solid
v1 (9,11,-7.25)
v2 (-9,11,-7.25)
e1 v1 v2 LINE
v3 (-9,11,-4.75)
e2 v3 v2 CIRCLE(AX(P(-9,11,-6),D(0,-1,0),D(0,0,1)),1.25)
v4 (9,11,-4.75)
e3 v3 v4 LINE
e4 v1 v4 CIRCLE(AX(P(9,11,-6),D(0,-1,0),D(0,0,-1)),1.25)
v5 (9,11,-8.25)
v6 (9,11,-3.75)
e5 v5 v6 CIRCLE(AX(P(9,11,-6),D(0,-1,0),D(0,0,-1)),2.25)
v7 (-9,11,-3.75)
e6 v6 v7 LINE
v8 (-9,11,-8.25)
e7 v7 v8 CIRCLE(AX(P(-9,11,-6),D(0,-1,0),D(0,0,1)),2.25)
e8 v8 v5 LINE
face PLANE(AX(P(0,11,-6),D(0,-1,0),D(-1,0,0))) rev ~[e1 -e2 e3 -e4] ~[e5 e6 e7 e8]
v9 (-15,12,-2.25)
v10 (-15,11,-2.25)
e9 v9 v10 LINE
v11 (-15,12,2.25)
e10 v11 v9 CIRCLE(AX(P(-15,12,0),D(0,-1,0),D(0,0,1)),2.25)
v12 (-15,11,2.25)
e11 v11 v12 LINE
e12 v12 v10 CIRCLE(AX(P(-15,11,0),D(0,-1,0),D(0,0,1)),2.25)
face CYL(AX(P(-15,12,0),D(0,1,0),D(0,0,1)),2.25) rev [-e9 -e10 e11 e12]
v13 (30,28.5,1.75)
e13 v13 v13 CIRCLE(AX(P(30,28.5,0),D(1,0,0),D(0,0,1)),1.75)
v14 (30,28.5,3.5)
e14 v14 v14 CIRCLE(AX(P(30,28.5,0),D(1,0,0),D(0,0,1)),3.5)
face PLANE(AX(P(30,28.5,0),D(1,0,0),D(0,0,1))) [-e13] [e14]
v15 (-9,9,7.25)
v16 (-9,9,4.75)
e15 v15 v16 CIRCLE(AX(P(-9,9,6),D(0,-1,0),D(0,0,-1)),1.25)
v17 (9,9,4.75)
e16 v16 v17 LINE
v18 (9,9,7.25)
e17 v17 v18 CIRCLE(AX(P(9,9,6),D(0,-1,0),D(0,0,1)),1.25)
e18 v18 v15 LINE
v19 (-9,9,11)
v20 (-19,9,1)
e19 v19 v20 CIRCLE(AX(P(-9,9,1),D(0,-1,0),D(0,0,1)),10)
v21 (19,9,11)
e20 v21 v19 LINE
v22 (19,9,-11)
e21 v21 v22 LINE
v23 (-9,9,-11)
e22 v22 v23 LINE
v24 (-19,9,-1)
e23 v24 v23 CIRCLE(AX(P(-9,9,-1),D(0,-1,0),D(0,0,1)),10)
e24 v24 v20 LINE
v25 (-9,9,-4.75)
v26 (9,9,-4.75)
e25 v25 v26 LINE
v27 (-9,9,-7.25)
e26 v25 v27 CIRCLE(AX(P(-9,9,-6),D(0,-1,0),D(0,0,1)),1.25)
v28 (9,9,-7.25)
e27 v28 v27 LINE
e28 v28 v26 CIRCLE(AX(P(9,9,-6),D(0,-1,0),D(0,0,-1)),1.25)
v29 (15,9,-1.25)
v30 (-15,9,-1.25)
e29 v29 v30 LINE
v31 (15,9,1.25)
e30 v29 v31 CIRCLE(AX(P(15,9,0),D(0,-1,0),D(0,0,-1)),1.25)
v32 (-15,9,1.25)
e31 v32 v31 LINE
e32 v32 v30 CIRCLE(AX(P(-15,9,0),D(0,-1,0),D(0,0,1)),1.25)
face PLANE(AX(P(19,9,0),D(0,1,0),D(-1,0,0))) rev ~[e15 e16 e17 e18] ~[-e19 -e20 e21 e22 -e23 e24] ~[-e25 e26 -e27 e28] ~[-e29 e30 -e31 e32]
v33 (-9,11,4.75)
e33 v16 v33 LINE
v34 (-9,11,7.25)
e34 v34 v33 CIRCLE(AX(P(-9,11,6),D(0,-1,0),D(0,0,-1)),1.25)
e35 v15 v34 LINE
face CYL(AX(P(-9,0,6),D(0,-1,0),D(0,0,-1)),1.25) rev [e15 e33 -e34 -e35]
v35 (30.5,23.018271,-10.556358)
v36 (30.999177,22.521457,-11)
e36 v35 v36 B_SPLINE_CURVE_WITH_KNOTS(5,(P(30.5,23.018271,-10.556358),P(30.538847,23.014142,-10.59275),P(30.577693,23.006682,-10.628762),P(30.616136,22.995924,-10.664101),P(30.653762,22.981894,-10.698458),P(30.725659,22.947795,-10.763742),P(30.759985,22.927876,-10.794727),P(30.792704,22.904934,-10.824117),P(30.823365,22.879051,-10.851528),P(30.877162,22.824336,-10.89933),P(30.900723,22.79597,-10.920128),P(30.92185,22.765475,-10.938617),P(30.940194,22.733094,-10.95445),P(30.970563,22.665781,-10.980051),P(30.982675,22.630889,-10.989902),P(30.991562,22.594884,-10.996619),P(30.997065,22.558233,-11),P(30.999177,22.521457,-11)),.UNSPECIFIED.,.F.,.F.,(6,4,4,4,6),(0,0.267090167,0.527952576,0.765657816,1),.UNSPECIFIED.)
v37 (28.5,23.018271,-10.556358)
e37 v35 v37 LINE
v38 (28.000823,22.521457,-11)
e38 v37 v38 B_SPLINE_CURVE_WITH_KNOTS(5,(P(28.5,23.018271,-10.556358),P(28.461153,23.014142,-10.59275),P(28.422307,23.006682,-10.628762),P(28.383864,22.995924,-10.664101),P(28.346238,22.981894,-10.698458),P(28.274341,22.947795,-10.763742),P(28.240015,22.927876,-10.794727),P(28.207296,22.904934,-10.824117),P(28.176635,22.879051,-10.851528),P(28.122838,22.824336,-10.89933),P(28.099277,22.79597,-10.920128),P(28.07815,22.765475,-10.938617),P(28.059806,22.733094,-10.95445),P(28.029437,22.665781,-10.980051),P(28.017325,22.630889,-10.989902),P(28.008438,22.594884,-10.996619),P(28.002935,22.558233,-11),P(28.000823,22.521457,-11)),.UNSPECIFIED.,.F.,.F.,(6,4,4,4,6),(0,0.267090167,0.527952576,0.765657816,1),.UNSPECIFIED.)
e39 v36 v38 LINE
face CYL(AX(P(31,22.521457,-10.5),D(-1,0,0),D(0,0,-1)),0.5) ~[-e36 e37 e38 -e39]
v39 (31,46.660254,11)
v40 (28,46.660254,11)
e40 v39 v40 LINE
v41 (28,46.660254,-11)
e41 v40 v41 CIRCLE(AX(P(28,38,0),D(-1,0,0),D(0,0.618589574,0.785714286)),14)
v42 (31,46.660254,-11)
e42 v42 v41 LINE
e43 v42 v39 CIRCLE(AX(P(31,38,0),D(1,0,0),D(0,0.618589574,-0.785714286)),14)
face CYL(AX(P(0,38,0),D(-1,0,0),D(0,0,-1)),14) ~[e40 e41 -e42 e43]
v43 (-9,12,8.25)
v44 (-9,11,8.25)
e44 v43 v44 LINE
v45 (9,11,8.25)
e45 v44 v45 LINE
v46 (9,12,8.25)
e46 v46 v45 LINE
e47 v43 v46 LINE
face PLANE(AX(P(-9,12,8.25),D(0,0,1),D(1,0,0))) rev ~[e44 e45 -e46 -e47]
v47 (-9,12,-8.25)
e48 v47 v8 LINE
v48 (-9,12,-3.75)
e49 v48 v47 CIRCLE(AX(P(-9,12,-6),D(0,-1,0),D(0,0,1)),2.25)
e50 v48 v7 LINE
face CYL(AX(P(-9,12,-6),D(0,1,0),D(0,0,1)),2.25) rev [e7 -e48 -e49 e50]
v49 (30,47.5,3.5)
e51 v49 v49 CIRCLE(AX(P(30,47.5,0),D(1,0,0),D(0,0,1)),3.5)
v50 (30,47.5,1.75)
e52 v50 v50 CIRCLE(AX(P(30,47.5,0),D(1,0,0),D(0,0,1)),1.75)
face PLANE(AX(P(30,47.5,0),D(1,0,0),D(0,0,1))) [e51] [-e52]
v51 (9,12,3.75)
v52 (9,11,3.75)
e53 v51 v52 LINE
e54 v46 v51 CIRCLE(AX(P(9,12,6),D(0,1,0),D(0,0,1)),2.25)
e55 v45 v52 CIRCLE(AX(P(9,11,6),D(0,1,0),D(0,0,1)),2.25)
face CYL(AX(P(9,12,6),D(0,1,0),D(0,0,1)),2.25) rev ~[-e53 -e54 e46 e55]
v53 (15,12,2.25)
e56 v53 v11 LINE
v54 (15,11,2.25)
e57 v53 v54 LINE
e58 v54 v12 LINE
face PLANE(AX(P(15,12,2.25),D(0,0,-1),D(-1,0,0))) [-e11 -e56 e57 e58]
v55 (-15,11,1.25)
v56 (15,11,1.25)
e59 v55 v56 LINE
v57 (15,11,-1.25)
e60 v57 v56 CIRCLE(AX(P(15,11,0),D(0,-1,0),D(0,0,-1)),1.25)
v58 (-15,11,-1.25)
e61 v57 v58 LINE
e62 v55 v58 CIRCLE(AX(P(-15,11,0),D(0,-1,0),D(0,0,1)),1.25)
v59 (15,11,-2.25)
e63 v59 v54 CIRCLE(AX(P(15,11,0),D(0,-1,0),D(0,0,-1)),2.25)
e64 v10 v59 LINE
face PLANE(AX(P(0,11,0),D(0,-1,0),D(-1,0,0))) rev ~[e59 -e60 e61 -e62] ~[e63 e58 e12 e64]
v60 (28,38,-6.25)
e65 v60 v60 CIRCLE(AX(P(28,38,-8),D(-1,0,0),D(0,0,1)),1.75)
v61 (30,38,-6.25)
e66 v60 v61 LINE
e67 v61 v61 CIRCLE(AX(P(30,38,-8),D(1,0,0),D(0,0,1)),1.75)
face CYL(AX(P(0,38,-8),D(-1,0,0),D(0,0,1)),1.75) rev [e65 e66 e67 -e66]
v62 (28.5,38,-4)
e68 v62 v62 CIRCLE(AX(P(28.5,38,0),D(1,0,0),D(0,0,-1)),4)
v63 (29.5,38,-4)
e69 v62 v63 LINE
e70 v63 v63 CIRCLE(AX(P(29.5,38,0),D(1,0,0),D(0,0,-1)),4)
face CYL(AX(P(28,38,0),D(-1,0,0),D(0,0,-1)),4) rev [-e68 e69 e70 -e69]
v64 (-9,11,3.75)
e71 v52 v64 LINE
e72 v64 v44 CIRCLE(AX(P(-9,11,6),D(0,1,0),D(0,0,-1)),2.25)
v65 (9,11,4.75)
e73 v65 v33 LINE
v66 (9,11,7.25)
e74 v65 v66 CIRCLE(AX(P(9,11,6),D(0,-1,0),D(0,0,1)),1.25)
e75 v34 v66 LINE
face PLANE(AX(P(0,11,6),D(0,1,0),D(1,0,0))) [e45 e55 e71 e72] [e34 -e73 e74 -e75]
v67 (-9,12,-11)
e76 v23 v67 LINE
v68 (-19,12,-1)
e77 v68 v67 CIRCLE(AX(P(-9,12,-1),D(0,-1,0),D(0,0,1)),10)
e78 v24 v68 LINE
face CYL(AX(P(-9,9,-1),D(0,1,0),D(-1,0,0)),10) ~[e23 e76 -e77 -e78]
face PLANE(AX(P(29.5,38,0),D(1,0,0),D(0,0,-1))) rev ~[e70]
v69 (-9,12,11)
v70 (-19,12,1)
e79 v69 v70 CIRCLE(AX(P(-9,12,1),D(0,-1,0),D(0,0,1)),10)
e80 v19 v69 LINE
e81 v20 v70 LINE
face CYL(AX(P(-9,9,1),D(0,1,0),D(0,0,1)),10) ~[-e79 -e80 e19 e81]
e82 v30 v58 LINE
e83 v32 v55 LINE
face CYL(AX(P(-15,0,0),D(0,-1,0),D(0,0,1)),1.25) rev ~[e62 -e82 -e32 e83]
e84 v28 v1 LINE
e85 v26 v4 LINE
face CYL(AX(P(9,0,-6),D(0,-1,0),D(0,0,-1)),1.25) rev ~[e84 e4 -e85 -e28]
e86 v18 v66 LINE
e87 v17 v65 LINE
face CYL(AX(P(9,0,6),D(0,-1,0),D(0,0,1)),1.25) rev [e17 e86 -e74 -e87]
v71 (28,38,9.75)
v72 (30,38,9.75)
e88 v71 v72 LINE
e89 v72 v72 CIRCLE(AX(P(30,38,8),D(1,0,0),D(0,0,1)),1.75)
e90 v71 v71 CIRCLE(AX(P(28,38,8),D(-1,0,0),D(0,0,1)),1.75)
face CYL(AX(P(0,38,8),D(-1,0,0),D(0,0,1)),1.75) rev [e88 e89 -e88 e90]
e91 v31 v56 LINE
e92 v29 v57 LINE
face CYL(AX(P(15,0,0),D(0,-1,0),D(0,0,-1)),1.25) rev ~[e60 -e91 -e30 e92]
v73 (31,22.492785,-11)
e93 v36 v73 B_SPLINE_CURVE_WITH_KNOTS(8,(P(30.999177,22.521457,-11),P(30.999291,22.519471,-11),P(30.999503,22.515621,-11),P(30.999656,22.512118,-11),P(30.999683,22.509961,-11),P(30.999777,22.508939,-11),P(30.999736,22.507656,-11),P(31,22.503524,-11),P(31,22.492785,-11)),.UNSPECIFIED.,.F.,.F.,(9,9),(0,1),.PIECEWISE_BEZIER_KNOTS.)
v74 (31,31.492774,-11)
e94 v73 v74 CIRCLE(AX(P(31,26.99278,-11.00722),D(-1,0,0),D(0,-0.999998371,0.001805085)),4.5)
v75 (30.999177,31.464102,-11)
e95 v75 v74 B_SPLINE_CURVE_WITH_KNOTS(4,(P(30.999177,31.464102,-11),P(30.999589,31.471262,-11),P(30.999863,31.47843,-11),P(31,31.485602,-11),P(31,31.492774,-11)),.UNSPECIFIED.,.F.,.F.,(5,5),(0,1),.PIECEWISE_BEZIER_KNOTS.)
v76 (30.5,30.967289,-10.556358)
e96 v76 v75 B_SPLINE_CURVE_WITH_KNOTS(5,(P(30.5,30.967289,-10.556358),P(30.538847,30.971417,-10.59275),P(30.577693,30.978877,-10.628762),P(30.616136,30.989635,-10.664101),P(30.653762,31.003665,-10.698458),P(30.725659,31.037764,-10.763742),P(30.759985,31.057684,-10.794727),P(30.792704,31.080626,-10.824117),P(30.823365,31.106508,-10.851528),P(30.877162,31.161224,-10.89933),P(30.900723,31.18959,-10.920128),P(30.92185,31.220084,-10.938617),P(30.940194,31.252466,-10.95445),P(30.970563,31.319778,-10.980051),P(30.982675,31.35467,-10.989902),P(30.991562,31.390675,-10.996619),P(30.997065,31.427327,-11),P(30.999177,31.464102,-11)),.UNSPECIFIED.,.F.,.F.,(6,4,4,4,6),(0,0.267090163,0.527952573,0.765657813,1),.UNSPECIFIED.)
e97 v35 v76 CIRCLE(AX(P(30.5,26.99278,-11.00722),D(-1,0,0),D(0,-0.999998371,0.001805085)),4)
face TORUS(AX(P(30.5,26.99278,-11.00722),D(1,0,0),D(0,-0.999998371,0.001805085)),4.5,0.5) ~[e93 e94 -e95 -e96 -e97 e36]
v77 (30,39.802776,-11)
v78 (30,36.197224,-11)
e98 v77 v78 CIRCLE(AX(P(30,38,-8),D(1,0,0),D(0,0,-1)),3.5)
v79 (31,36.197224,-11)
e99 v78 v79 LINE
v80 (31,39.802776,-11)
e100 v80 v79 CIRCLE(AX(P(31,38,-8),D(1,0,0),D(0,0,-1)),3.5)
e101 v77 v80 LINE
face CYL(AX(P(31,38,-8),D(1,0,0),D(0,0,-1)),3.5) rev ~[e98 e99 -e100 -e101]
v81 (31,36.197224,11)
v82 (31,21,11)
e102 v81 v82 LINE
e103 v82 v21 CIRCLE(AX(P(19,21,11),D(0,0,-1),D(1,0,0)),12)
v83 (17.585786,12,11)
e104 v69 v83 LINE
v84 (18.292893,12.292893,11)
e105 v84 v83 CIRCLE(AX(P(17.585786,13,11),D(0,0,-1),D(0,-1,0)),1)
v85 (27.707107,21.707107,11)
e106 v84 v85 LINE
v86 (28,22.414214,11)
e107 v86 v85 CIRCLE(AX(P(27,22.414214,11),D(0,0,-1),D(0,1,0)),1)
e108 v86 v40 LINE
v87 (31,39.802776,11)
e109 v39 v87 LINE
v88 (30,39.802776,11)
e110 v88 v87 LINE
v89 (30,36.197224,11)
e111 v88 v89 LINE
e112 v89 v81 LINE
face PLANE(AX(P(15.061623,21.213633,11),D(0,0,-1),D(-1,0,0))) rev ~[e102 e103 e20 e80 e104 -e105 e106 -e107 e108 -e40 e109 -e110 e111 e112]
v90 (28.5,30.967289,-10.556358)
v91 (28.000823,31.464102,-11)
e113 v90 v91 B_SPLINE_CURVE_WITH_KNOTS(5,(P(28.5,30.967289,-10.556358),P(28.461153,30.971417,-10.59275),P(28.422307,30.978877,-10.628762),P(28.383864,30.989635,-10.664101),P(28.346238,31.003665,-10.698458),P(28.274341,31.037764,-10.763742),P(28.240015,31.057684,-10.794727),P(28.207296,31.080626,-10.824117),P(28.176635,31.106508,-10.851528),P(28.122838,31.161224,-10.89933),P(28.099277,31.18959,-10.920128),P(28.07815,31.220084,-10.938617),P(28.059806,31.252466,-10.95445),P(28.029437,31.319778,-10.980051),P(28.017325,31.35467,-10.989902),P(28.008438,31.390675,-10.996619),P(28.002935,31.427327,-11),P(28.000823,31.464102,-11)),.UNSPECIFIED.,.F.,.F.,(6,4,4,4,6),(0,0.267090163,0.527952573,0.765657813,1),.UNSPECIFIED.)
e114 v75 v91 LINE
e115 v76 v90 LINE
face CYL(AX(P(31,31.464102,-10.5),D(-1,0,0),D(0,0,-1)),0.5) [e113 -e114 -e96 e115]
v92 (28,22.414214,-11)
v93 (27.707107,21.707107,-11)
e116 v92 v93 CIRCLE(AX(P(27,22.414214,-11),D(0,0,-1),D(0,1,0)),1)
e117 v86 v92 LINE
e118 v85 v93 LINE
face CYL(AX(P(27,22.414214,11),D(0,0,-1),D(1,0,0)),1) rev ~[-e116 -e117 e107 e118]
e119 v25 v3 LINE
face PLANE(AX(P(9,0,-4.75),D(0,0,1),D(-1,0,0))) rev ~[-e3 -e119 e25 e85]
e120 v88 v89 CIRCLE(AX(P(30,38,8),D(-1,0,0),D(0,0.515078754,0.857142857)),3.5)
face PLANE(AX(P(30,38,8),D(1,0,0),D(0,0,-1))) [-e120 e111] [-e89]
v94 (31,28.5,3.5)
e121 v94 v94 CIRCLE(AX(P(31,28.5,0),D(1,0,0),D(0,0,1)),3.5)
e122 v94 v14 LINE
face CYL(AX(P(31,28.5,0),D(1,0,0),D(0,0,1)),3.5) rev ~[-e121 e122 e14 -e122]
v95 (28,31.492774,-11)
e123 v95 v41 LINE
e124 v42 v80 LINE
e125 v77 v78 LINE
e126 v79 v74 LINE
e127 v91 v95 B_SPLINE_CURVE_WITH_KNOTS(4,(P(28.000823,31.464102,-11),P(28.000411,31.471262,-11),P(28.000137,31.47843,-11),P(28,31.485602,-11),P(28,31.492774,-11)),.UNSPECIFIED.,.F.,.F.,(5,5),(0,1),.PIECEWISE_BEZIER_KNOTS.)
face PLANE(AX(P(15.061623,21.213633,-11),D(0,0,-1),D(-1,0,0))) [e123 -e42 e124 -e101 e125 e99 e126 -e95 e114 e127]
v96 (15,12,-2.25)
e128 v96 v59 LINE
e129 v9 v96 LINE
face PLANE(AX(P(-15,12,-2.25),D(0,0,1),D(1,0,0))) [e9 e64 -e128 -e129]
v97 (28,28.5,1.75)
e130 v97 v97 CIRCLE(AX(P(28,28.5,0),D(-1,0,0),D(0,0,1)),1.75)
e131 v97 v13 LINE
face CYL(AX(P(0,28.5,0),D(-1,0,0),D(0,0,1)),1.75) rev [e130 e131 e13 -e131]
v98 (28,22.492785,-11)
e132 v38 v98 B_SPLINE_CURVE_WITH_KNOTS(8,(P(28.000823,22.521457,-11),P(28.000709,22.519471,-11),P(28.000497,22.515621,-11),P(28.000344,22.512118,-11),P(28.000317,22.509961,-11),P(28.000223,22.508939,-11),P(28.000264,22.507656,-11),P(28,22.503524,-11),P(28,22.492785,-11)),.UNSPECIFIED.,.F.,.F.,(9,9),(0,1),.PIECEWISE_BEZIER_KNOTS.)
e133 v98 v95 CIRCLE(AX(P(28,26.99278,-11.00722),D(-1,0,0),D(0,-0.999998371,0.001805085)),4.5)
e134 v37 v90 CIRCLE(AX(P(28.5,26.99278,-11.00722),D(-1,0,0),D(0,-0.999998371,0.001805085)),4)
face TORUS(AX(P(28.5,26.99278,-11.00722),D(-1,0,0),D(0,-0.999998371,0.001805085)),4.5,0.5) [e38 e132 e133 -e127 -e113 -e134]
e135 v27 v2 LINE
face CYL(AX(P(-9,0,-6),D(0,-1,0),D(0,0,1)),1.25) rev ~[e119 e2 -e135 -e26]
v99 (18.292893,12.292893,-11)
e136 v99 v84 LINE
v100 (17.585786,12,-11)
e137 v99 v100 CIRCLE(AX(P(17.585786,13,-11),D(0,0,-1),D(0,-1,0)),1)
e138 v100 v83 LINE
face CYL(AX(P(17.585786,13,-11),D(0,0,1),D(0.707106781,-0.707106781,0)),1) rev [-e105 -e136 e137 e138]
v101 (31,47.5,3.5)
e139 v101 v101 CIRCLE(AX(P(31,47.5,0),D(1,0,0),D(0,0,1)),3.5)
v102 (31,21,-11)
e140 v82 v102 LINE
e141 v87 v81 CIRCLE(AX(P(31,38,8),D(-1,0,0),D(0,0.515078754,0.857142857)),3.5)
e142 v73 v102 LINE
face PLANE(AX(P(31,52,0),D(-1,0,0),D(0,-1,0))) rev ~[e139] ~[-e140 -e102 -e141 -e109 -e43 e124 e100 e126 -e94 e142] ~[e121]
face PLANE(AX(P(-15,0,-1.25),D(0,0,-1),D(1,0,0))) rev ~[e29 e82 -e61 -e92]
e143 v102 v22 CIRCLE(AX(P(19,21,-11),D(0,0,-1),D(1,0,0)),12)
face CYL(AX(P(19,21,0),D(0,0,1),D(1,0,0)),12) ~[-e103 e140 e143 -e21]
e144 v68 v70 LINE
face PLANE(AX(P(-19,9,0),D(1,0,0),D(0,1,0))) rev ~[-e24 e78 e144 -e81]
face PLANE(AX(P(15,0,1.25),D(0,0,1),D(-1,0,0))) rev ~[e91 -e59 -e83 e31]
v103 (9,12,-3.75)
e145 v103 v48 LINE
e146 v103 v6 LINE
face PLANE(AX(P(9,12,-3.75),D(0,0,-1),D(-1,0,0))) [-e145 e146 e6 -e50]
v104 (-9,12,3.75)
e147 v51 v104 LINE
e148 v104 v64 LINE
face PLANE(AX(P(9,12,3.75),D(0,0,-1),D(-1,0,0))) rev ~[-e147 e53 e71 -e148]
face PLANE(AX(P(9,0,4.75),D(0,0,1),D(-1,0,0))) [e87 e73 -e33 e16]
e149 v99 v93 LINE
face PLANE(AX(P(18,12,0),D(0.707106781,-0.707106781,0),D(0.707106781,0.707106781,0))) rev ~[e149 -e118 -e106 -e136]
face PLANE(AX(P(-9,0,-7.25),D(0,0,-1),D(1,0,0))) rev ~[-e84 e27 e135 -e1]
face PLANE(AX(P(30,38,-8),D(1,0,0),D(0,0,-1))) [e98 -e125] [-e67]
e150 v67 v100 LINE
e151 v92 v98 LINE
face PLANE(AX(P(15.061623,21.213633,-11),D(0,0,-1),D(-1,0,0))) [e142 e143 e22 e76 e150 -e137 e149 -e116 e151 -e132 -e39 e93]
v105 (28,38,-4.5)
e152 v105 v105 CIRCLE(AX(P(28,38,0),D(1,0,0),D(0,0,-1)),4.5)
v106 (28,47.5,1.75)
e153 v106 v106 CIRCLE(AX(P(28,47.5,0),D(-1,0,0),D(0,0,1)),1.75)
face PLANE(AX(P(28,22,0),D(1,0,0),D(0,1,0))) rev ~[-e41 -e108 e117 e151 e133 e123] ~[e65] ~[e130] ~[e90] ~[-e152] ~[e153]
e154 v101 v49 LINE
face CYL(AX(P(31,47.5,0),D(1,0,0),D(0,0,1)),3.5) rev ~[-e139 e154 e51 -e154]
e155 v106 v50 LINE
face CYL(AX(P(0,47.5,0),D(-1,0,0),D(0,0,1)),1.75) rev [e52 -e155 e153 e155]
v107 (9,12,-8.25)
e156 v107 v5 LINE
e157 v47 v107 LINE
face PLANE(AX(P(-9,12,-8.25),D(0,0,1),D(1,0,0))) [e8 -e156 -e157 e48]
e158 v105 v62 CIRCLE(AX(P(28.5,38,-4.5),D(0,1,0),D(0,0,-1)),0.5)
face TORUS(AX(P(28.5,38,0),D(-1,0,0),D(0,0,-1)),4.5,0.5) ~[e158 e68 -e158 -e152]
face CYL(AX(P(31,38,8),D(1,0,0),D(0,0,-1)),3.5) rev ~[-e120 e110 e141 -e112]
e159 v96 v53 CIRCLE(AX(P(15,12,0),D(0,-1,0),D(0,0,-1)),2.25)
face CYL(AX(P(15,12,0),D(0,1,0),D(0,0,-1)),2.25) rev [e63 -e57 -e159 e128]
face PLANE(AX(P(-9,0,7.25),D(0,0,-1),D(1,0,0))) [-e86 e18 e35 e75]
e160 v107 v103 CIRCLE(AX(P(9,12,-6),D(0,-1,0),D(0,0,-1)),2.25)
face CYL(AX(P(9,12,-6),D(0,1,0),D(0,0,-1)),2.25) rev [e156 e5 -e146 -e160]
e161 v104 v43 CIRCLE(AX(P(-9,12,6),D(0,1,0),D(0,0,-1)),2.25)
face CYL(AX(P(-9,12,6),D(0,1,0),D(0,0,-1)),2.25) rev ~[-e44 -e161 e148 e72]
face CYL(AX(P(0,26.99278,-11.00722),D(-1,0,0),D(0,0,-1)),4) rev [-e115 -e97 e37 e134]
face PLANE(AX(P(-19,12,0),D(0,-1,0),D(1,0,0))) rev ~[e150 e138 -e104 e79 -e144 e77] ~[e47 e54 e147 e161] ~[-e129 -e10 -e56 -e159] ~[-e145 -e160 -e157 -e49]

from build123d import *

# Parameters (mm, degrees)
BOSS_EXTRUDE1_DEPTH = 11
CUT_EXTRUDE1_DEPTH  = 22
CUT_EXTRUDE2_START  = 12
CUT_EXTRUDE2_DEPTH  = 1
SKETCH3_R           = 4
SKETCH3_R_2         = 1.75
CUT_EXTRUDE3_DEPTH  = 41
CUT_EXTRUDE6_START  = 31
SKETCH3_4_R         = 3.5
SKETCH3_4_R_2       = 1.75
CUT_EXTRUDE6_DEPTH  = 1
FILLET1_R           = 10
CUT_EXTRUDE7_START  = 28
SKETCH3_5_R         = 4
CUT_EXTRUDE7_DEPTH  = 1.5
FILLET2_R           = 0.5
FILLET3_R           = 1


with BuildPart() as part:
    # Sketch1 → Boss-Extrude1 (new body, symmetric)
    with BuildSketch(Plane.XY):
        with BuildLine():
            Line((-14, 12), (16, 12))
            Line((16, 12), (18, 12))
            Line((18, 12), (28, 22))
            Line((28, 22), (28, 24))
            Line((28, 24), (28, 49))
            Line((28, 49), (28, 52))
            Line((28, 52), (31, 52))
            Line((31, 52), (31, 49))
            Line((31, 49), (31, 27))
            Line((31, 27), (31, 22.757359313))
            Line((31, 22.757359313), (31, 21))
            ThreePointArc((31, 21), (27.485281374, 12.514718626), (19, 9))
            Line((19, 9), (17.242640687, 9))
            Line((17.242640687, 9), (14, 9))
            Line((14, 9), (-14, 9))
            Line((-14, 9), (-19, 9))
            Line((-19, 9), (-19, 12))
            Line((-19, 12), (-14, 12))
        make_face()
    extrude(amount=BOSS_EXTRUDE1_DEPTH, both=True)

    # Sketch2 → Cut-Extrude1 (cut)
    with BuildSketch(Plane(origin=(0, 0, 0), x_dir=(1, 0, 0), z_dir=(0, 1, 0))):
        with BuildLine():
            Line((-15, 1.25), (15, 1.25))
            ThreePointArc((15, 1.25), (16.25, 0), (15, -1.25))
            Line((15, -1.25), (-15, -1.25))
            ThreePointArc((-15, -1.25), (-16.25, 0), (-15, 1.25))
        make_face()
        with BuildLine():
            Line((-9, 7.25), (9, 7.25))
            ThreePointArc((9, 7.25), (10.25, 6), (9, 4.75))
            Line((9, 4.75), (-9, 4.75))
            ThreePointArc((-9, 4.75), (-10.25, 6), (-9, 7.25))
        make_face()
        with BuildLine():
            Line((-9, -7.25), (9, -7.25))
            ThreePointArc((9, -7.25), (10.25, -6), (9, -4.75))
            Line((9, -4.75), (-9, -4.75))
            ThreePointArc((-9, -4.75), (-10.25, -6), (-9, -7.25))
        make_face()
    extrude(amount=CUT_EXTRUDE1_DEPTH, mode=Mode.SUBTRACT)

    # Sketch2_4 → Cut-Extrude2 (cut)
    with BuildSketch(Plane(origin=(0, 0, 0), x_dir=(1, 0, 0), z_dir=(0, 1, 0)).offset(CUT_EXTRUDE2_START)):
        with BuildLine():
            Line((-9, 8.25), (9, 8.25))
            ThreePointArc((9, 8.25), (11.25, 6), (9, 3.75))
            Line((9, 3.75), (-9, 3.75))
            ThreePointArc((-9, 3.75), (-11.25, 6), (-9, 8.25))
        make_face()
        with BuildLine():
            Line((-15, 2.25), (15, 2.25))
            ThreePointArc((15, 2.25), (17.25, 0), (15, -2.25))
            Line((15, -2.25), (-15, -2.25))
            ThreePointArc((-15, -2.25), (-17.25, 0), (-15, 2.25))
        make_face()
        with BuildLine():
            Line((-9, -8.25), (9, -8.25))
            ThreePointArc((9, -8.25), (11.25, -6), (9, -3.75))
            Line((9, -3.75), (-9, -3.75))
            ThreePointArc((-9, -3.75), (-11.25, -6), (-9, -8.25))
        make_face()
    extrude(amount=-CUT_EXTRUDE2_DEPTH, mode=Mode.SUBTRACT)

    # Sketch3 → Cut-Extrude3 (cut)
    with BuildSketch(Plane(origin=(0, 0, 0), x_dir=(0, 0, -1), z_dir=(1, 0, 0))):
        with BuildLine():
            ThreePointArc((14, 38), (0, 52), (-14, 38))
            Line((-14, 38), (-18.083986214, 38))
            Line((-18.083986214, 38), (-18.083986214, 55.660635954))
            Line((-18.083986214, 55.660635954), (16.65758444, 55.660635954))
            Line((16.65758444, 55.660635954), (16.65758444, 38))
            Line((16.65758444, 38), (14, 38))
        make_face()
        with Locations((11.00722034, 26.99277966)):
            Circle(SKETCH3_R)
        with Locations(Location((-8, 38, 0), (0, 0, 180))):  # turned: the seam where the file's is
            Circle(SKETCH3_R_2)
        with Locations(Location((0, 28.5, 0), (0, 0, 180))):  # turned: the seam where the file's is
            Circle(SKETCH3_R_2)
        with Locations(Location((8, 38, 0), (0, 0, 180))):  # turned: the seam where the file's is
            Circle(SKETCH3_R_2)
        with Locations(Location((0, 47.5, 0), (0, 0, 180))):  # turned: the seam where the file's is
            Circle(SKETCH3_R_2)
    extrude(amount=CUT_EXTRUDE3_DEPTH, mode=Mode.SUBTRACT)

    # Sketch3_4 → Cut-Extrude6 (cut)
    with BuildSketch(Plane(origin=(0, 0, 0), x_dir=(0, 0, -1), z_dir=(1, 0, 0)).offset(CUT_EXTRUDE6_START)):
        with Locations(Location((0, 28.5, 0), (0, 0, 180))):  # turned: the seam where the file's is
            Circle(SKETCH3_4_R)
        with Locations(Location((0, 28.5, 0), (0, 0, 180))):  # turned: the seam where the file's is
            Circle(SKETCH3_4_R_2, mode=Mode.SUBTRACT)
        with Locations((-8, 38)):
            Circle(SKETCH3_4_R)
        with Locations(Location((-8, 38, 0), (0, 0, 180))):  # turned: the seam where the file's is
            Circle(SKETCH3_4_R_2, mode=Mode.SUBTRACT)
        with Locations(Location((0, 47.5, 0), (0, 0, 180))):  # turned: the seam where the file's is
            Circle(SKETCH3_4_R)
        with Locations(Location((0, 47.5, 0), (0, 0, 180))):  # turned: the seam where the file's is
            Circle(SKETCH3_4_R_2, mode=Mode.SUBTRACT)
        with Locations((8, 38)):
            Circle(SKETCH3_4_R)
        with Locations(Location((8, 38, 0), (0, 0, 180))):  # turned: the seam where the file's is
            Circle(SKETCH3_4_R_2, mode=Mode.SUBTRACT)
    extrude(amount=-CUT_EXTRUDE6_DEPTH, mode=Mode.SUBTRACT)

    # Fillet1
    fillet1_edges = [part.edges().sort_by_distance(p)[0] for p in [
        (-19, 10.5, -11),
        (-19, 10.5, 11),
    ]]
    fillet(fillet1_edges, radius=FILLET1_R)

    # Sketch3_5 → Cut-Extrude7 (cut)
    with BuildSketch(Plane(origin=(0, 0, 0), x_dir=(0, 0, -1), z_dir=(1, 0, 0)).offset(CUT_EXTRUDE7_START)):
        with Locations((0, 38)):
            Circle(SKETCH3_5_R)
    extrude(amount=CUT_EXTRUDE7_DEPTH, mode=Mode.SUBTRACT)

    # Fillet2
    fillet2_edges = [part.edges().sort_by_distance(p)[0] for p in [
        (29.5, 22.992786177, -11),
        (29.5, 30.992773143, -11),
        (28, 26.99277966, -7.00722034),
        (31, 26.99277966, -7.00722034),
        (28, 38, 4),
    ]]
    fillet(fillet2_edges, radius=FILLET2_R)

    # Fillet3
    fillet3_edges = [part.edges().sort_by_distance(p)[0] for p in [
        (18, 12, 0),
        (28, 22, 0),
    ]]
    fillet(fillet3_edges, radius=FILLET3_R)


solid = part.part
